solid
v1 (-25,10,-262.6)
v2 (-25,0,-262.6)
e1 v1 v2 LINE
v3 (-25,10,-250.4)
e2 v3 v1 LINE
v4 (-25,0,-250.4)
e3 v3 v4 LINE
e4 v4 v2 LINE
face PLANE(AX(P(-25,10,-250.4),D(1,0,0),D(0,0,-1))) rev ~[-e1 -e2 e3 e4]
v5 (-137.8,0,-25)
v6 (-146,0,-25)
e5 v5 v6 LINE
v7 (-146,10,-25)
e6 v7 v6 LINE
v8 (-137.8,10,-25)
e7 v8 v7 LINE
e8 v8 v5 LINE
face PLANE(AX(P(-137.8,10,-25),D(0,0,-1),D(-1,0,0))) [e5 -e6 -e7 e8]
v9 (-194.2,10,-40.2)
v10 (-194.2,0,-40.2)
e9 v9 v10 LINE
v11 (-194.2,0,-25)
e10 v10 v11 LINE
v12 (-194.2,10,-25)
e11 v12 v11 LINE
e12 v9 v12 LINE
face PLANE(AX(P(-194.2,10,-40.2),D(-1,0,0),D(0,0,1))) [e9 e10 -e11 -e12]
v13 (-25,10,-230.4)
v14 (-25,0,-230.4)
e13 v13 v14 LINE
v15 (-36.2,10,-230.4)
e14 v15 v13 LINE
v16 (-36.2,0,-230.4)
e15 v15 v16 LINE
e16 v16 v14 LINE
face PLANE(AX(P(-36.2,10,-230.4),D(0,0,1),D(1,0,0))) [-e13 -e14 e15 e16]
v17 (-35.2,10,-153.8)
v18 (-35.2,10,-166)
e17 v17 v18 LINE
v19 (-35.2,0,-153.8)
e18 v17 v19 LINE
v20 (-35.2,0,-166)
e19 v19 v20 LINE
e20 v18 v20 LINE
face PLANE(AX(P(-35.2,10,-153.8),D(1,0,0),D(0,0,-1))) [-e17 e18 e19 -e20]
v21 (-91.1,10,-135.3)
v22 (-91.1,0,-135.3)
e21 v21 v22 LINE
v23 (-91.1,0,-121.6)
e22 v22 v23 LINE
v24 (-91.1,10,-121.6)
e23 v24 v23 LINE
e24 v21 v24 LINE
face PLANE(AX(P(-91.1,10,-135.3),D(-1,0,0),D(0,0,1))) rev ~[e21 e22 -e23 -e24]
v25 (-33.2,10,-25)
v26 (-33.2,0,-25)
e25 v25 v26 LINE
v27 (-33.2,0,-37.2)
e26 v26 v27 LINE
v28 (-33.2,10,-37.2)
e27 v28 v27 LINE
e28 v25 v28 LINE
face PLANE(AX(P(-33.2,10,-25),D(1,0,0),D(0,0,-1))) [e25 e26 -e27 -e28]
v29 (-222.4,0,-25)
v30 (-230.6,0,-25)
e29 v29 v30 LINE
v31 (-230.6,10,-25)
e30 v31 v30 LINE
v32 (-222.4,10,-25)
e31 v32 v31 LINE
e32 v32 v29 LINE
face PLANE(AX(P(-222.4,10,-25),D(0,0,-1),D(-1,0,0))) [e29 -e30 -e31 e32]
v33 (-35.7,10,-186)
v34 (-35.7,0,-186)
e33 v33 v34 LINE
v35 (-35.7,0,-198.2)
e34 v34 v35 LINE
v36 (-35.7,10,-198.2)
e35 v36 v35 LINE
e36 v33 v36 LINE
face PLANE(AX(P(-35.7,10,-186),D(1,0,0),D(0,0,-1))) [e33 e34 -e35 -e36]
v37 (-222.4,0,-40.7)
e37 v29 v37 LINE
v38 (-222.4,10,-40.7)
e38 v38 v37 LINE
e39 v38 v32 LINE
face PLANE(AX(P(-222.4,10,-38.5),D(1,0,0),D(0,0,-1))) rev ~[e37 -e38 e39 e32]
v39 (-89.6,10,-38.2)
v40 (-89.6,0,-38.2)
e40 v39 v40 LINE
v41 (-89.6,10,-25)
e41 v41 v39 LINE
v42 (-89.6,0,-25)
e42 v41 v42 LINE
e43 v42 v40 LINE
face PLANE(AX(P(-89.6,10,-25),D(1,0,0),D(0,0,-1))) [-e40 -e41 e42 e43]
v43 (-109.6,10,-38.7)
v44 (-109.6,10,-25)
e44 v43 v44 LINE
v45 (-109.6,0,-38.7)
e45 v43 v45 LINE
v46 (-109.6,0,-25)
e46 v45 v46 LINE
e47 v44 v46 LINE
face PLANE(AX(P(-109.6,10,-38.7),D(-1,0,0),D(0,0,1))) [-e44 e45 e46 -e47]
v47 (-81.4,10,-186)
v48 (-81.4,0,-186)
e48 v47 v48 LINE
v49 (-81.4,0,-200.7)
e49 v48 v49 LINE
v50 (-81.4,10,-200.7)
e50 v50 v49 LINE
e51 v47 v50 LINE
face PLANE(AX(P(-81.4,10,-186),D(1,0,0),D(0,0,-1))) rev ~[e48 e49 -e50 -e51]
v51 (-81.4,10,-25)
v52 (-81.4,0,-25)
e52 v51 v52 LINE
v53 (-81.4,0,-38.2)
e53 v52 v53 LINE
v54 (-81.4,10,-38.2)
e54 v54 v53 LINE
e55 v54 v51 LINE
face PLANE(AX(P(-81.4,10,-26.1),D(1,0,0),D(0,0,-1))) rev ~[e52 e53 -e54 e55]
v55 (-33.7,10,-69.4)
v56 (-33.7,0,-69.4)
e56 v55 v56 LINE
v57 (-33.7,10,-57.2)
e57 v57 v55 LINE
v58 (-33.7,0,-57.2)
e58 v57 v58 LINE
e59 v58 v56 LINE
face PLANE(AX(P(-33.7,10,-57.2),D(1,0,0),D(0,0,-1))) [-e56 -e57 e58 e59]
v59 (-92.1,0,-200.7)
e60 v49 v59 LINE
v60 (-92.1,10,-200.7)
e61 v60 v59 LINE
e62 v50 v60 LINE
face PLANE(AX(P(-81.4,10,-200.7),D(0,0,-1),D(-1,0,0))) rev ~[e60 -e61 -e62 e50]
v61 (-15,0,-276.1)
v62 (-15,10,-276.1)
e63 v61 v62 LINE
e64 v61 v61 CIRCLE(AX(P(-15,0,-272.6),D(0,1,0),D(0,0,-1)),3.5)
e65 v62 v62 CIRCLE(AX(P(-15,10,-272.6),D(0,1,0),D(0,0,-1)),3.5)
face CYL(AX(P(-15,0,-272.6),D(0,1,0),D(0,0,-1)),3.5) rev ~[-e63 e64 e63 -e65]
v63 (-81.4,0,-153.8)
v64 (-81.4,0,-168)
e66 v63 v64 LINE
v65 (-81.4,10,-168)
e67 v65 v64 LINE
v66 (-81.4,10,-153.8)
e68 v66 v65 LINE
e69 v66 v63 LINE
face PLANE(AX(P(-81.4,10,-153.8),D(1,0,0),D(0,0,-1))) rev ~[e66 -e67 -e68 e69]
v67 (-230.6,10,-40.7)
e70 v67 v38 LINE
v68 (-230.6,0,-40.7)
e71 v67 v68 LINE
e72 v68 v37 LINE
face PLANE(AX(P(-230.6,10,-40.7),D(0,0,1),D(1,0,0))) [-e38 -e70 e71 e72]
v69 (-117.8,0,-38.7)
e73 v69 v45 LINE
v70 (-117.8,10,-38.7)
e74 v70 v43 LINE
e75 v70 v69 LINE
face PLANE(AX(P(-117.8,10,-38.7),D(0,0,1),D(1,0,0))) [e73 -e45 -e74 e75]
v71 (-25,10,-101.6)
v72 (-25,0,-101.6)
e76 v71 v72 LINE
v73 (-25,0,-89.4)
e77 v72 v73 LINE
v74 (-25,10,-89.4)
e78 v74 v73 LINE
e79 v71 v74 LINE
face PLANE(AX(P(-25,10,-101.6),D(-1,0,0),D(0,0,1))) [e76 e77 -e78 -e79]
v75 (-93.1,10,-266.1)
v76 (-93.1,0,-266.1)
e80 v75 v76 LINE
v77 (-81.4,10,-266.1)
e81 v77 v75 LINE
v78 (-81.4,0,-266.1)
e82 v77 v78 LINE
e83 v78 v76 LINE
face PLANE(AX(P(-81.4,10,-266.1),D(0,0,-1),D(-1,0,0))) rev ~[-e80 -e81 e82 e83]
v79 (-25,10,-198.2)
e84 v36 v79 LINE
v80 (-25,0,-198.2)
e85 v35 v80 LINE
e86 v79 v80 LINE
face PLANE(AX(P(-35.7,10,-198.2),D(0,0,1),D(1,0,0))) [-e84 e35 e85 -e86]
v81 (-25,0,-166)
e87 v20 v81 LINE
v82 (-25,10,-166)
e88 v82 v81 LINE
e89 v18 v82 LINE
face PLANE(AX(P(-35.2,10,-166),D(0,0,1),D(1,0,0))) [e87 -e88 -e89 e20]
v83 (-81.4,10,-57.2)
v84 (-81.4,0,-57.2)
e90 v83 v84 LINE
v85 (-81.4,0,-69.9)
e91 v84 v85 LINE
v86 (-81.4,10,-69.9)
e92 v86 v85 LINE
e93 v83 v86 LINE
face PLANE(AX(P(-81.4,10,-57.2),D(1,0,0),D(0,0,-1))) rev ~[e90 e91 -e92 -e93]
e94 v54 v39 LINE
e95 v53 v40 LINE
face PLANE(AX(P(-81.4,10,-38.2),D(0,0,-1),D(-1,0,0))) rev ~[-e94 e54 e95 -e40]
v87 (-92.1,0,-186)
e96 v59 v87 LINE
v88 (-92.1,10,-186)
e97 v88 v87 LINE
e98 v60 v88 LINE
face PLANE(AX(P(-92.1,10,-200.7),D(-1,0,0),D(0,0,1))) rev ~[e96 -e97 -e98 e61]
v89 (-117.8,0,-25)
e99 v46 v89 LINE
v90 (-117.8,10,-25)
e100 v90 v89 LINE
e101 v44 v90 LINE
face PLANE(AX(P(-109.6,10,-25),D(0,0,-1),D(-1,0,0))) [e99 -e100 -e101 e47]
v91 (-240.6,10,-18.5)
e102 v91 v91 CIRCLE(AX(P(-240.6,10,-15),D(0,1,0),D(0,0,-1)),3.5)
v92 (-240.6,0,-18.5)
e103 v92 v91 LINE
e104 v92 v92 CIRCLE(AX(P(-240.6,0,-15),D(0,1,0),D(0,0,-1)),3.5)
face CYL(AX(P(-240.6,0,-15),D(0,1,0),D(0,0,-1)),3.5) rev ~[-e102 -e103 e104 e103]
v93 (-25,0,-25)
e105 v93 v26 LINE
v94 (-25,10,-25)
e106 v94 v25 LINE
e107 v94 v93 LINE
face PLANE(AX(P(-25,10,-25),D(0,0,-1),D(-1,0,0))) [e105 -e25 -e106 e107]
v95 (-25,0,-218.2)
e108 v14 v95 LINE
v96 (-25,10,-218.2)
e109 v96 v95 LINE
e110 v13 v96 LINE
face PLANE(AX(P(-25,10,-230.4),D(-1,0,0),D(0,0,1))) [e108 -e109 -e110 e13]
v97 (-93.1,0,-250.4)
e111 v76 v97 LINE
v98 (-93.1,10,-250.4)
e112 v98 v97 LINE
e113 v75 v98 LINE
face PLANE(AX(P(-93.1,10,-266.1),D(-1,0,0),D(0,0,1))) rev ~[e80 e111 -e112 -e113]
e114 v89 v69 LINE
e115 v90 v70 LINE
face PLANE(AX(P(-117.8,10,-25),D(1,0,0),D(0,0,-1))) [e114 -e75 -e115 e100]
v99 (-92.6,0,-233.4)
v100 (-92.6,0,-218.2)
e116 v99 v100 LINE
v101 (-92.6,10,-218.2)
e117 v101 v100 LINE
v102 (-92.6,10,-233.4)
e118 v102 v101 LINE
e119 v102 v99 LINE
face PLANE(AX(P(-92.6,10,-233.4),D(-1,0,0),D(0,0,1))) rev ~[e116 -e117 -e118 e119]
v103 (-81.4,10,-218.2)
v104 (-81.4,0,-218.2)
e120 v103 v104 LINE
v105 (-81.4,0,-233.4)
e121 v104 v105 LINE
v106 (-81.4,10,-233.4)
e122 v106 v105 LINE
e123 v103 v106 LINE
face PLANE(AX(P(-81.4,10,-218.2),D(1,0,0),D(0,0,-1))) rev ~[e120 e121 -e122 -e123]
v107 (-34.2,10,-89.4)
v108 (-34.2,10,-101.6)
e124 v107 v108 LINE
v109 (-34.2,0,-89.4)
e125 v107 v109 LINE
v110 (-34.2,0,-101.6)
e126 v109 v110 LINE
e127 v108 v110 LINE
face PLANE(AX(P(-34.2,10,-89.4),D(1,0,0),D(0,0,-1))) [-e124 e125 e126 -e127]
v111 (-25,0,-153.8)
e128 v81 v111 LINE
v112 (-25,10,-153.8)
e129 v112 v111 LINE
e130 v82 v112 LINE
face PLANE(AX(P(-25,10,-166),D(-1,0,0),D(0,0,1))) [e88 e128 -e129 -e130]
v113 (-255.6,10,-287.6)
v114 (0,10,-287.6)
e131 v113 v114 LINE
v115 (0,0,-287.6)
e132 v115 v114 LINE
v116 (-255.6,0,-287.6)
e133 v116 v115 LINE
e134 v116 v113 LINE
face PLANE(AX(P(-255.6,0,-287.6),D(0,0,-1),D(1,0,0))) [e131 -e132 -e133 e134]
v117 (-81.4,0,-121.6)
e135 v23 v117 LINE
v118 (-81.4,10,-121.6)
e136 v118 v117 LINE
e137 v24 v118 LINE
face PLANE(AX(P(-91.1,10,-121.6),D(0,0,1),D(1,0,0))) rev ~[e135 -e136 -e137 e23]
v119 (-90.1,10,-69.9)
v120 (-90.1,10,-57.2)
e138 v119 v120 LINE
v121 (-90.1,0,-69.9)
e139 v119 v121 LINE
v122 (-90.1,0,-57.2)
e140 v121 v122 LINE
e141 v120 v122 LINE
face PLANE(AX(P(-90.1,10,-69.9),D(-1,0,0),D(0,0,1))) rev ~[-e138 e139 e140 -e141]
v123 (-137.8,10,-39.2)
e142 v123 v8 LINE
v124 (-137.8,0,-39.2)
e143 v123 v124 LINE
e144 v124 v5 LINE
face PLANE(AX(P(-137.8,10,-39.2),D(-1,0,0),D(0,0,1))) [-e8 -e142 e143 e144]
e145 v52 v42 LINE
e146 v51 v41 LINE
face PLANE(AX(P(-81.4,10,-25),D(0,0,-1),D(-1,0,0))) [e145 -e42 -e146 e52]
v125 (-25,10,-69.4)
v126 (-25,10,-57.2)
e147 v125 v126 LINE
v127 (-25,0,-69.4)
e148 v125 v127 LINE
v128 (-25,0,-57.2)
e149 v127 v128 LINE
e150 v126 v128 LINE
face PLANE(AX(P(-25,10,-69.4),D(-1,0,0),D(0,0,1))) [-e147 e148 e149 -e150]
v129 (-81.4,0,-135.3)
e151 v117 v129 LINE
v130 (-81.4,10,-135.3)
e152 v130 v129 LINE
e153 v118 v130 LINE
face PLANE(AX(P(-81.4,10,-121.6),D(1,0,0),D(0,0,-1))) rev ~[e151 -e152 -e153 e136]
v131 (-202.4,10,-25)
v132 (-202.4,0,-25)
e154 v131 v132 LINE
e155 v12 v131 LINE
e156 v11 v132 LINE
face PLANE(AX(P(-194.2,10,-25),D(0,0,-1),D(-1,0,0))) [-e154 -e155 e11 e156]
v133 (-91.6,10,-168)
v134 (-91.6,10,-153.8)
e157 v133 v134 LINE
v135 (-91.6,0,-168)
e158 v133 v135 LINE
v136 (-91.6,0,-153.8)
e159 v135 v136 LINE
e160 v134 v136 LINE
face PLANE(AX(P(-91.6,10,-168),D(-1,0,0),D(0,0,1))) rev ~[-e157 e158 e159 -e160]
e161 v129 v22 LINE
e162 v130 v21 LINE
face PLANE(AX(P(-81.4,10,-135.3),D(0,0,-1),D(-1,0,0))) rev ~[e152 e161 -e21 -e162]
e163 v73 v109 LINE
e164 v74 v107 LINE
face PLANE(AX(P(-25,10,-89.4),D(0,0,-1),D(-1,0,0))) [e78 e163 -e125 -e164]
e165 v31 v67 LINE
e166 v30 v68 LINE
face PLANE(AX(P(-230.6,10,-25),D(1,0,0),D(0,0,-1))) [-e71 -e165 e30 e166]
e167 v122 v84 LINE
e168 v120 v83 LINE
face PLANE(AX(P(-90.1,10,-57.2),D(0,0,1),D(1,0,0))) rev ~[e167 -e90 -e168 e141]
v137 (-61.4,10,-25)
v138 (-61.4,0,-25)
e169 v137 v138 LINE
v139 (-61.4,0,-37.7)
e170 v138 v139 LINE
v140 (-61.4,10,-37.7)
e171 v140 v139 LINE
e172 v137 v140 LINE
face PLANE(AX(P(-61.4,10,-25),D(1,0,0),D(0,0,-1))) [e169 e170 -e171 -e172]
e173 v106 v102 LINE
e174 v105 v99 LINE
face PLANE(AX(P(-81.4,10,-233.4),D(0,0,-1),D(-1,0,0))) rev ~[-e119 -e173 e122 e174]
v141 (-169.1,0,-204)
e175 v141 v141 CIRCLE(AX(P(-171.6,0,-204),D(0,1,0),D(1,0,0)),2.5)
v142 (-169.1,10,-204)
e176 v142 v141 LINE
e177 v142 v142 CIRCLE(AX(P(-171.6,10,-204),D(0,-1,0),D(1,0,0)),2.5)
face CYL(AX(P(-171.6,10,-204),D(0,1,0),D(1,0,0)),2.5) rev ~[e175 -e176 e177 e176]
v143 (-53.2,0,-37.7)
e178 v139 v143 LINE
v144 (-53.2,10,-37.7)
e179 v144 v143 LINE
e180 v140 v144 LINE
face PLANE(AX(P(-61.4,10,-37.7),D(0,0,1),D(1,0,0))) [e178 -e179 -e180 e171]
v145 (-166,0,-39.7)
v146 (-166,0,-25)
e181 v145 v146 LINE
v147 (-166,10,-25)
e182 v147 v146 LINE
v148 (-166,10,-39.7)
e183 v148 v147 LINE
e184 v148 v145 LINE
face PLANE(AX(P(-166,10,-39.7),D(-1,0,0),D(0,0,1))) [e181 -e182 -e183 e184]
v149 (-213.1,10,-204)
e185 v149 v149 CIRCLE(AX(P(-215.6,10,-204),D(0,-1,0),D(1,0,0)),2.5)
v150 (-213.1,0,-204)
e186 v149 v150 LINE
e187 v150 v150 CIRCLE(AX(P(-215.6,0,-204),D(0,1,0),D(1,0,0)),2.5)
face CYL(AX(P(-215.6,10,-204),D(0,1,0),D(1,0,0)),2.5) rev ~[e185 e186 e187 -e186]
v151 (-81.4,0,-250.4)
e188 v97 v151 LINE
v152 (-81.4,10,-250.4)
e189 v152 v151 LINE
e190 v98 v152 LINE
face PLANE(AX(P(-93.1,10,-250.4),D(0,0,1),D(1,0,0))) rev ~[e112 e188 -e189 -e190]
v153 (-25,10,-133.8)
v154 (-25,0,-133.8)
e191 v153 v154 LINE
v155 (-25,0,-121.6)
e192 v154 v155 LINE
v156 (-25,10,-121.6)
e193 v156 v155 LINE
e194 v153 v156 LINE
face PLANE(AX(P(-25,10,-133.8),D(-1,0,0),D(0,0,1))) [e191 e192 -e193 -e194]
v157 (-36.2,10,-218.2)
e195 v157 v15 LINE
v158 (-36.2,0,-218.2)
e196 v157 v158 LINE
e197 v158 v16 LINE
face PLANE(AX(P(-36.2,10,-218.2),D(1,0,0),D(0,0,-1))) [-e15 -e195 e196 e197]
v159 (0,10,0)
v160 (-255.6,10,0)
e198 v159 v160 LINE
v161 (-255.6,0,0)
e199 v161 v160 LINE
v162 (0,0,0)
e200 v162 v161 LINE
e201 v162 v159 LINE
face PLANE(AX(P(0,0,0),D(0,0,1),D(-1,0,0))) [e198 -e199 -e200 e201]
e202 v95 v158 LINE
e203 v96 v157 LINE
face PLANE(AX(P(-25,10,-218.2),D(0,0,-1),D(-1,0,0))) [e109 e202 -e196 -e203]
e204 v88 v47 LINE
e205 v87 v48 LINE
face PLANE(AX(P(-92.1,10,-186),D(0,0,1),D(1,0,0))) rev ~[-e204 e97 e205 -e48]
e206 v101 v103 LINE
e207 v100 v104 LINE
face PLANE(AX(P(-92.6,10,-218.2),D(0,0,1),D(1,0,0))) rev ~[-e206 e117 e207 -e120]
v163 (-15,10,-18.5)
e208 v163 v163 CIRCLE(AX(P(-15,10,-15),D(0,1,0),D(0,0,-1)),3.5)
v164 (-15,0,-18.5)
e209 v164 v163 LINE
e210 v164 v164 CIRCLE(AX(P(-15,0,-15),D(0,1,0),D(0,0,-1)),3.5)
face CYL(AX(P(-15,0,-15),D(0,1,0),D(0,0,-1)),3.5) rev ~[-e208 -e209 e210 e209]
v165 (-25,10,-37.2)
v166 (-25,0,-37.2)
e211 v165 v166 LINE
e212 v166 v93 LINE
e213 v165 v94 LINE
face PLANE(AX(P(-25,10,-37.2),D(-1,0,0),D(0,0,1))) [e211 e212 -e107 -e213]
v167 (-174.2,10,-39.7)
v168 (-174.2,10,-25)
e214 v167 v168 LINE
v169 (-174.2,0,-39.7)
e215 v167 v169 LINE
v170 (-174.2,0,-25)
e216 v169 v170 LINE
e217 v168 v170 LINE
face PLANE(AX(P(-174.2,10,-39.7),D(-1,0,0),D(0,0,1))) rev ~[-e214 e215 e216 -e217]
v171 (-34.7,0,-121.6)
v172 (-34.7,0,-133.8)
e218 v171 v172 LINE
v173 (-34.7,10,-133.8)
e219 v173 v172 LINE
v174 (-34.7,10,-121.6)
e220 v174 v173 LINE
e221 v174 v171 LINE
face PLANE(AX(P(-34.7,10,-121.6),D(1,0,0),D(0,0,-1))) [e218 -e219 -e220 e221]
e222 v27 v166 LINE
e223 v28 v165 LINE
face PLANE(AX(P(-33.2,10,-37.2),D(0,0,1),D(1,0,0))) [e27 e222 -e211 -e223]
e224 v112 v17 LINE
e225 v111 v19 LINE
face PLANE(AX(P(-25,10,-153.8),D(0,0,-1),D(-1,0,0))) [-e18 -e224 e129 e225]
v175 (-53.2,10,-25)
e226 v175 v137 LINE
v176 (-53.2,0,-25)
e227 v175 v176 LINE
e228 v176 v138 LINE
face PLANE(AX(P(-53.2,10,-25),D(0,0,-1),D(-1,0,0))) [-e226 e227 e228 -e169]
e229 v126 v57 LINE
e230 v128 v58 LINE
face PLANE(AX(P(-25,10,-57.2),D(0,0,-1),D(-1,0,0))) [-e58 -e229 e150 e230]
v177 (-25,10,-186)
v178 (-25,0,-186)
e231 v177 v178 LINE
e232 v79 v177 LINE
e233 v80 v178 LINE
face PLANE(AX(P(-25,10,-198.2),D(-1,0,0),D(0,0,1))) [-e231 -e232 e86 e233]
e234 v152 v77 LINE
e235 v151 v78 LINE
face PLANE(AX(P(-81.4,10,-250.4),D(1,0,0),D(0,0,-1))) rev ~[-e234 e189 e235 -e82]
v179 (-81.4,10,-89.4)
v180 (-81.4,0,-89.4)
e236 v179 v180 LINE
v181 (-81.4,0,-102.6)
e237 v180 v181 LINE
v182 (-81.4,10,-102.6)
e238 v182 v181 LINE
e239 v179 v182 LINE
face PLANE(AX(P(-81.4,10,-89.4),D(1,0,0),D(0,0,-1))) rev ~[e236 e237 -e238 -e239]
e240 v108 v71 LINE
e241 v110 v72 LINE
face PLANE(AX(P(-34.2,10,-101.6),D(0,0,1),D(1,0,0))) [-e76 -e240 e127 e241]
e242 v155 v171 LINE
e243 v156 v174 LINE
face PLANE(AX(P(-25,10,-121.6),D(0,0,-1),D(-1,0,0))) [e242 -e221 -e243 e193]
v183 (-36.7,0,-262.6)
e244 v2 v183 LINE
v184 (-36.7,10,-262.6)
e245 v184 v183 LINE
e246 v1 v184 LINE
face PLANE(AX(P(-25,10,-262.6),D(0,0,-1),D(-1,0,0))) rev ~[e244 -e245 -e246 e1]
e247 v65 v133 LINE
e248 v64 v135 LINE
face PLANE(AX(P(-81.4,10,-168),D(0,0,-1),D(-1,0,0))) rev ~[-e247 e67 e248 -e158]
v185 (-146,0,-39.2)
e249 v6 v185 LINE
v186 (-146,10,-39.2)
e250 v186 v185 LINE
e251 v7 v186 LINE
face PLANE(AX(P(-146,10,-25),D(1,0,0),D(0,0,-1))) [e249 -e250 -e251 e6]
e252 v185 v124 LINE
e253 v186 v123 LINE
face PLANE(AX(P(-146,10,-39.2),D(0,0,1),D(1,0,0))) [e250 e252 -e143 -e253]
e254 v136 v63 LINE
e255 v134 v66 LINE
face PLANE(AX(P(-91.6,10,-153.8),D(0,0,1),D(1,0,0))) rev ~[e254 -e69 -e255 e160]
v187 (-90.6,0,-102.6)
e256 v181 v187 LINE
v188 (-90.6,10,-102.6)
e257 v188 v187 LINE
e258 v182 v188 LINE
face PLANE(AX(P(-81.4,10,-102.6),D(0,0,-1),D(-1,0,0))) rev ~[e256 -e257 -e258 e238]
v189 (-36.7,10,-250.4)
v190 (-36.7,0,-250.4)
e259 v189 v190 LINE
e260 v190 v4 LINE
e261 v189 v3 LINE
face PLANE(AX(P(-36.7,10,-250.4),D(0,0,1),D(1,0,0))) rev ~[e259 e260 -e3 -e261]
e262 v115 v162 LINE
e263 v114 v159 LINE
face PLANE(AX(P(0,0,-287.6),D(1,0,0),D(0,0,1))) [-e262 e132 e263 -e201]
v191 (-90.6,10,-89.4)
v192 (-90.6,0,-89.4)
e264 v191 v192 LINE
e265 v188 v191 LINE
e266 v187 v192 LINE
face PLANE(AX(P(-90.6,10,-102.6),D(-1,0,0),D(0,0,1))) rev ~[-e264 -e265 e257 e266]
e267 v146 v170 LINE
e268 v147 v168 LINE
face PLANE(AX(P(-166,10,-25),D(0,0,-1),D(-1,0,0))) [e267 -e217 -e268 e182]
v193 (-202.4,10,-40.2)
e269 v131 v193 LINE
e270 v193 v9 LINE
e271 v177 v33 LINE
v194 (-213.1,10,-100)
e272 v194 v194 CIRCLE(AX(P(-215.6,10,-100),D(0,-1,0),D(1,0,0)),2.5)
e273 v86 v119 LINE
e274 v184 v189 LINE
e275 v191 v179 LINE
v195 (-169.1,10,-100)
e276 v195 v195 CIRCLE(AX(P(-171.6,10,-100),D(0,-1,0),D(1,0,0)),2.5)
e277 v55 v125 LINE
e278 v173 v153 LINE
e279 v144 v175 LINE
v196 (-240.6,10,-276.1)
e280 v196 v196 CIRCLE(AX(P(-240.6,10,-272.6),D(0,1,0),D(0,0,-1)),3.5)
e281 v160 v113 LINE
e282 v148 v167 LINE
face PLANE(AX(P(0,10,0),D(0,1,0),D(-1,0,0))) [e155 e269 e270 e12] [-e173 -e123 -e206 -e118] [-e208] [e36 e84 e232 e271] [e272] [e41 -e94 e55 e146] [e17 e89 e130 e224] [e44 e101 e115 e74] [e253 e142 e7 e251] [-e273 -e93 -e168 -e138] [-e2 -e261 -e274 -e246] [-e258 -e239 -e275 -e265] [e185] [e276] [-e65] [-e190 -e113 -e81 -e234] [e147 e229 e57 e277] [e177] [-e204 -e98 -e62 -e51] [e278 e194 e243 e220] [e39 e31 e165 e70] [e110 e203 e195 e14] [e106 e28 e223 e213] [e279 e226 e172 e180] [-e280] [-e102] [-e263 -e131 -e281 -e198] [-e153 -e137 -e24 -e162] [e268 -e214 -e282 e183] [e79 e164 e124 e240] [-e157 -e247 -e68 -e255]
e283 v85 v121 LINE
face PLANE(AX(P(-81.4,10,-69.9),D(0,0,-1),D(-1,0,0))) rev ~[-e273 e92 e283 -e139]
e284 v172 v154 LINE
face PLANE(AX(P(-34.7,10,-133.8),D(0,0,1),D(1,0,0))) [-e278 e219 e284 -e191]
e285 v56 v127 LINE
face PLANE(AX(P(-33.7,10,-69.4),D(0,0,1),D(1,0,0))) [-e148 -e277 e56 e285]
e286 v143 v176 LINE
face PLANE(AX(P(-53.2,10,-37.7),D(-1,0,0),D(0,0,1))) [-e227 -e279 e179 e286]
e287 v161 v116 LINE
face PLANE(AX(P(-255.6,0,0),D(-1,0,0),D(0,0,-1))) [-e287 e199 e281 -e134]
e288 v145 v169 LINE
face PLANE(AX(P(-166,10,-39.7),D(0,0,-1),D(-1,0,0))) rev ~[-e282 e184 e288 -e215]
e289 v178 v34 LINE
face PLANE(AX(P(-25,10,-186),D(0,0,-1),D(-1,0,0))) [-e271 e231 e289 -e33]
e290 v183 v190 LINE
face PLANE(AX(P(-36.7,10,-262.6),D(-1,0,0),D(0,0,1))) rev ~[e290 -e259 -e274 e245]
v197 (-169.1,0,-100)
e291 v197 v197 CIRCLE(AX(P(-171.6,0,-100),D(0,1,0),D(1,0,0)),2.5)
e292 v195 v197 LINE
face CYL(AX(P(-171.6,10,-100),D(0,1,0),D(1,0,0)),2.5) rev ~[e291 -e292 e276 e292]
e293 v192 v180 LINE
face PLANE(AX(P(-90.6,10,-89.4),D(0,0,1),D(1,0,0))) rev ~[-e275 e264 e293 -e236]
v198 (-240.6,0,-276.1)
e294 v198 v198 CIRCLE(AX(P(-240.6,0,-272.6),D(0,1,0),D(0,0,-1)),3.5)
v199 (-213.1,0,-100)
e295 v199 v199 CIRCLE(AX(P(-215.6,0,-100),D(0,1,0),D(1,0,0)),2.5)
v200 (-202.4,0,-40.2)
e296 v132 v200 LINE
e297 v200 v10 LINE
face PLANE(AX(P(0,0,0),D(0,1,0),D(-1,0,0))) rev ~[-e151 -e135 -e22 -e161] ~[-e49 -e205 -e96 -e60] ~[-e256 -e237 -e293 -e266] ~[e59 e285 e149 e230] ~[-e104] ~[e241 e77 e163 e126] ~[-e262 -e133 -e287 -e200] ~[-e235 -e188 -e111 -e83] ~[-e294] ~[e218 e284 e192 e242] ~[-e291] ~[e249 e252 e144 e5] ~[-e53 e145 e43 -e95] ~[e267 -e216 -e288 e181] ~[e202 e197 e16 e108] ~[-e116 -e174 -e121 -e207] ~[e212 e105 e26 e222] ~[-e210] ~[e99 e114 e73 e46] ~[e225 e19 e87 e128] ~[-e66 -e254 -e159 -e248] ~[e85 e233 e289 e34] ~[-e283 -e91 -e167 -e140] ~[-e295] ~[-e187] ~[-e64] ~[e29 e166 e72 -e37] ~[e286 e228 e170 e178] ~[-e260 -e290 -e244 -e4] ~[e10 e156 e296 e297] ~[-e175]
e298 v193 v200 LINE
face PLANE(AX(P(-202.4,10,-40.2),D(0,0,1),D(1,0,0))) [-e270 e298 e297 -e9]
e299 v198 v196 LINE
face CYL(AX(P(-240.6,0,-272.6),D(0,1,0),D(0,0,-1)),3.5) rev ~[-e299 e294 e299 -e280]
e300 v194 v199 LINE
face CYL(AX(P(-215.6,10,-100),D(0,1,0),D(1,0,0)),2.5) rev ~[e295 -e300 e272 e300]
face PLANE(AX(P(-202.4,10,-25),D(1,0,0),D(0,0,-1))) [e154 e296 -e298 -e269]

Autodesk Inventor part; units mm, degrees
ref_plane "YZ Plane" through (0, 0, 0) normal (1, 0, 0) x (0, 1, 0)
ref_plane "XZ Plane" through (0, 0, 0) normal (0, 1, 0) x (-1, 0, 0)
ref_plane "XY Plane" through (0, 0, 0) normal (0, 0, 1) x (1, 0, 0)
sketch "Skizze1" plane through (0, 0, 0) normal (0, 1, 0) x (-1, 0, 0)
  line L0 (0, 0) -> (255.6, 0)
  line L1 (255.6, 0) -> (255.6, -287.6)
  line L2 (255.6, -287.6) -> (0, -287.6)
  line L3 (0, -287.6) -> (0, 0)
  dimension "d0" = 287.6
  dimension "d1" = 255.6
extrude "Extrusion1" add sketch "Skizze1" along normal blind 10
sketch "Skizze4" plane through (0, 10, 0) normal (0, 1, 0) x (1, 0, 0)
  line L0 (-25, 25) -> (-33.2, 25)
  line L1 (-33.2, 25) -> (-33.2, 37.2)
  line L2 (-33.2, 37.2) -> (-25, 37.2)
  line L3 (-25, 37.2) -> (-25, 25)
  line L4 (-109.6, 25) -> (-117.8, 25)
  line L5 (-117.8, 25) -> (-117.8, 38.7)
  line L6 (-117.8, 38.7) -> (-109.6, 38.7)
  line L7 (-109.6, 38.7) -> (-109.6, 25)
  line L8 (-137.8, 25) -> (-146, 25)
  line L9 (-146, 25) -> (-146, 39.2)
  line L10 (-146, 39.2) -> (-137.8, 39.2)
  line L11 (-137.8, 39.2) -> (-137.8, 25)
  line L12 (-166, 39.7) -> (-166, 25)
  line L13 (-222.4, 25) -> (-230.6, 25)
  line L14 (-230.6, 25) -> (-230.6, 40.7)
  line L15 (-25, 57.2) -> (-33.7, 57.2)
  line L16 (-33.7, 57.2) -> (-33.7, 69.4)
  line L17 (-33.7, 69.4) -> (-25, 69.4)
  line L18 (-25, 69.4) -> (-25, 57.2)
  line L19 (-25, 89.4) -> (-34.2, 89.4)
  line L20 (-34.2, 89.4) -> (-34.2, 101.6)
  line L21 (-34.2, 101.6) -> (-25, 101.6)
  line L22 (-25, 101.6) -> (-25, 89.4)
  line L23 (-25, 121.6) -> (-34.7, 121.6)
  line L24 (-34.7, 121.6) -> (-34.7, 133.8)
  line L25 (-34.7, 133.8) -> (-25, 133.8)
  line L26 (-25, 133.8) -> (-25, 121.6)
  line L27 (-25, 153.8) -> (-35.2, 153.8)
  line L28 (-35.2, 153.8) -> (-35.2, 166)
  line L29 (-35.2, 166) -> (-25, 166)
  line L30 (-25, 166) -> (-25, 153.8)
  line L31 (-25, 186) -> (-35.7, 186)
  line L32 (-35.7, 186) -> (-35.7, 198.2)
  line L33 (-35.7, 198.2) -> (-25, 198.2)
  line L34 (-25, 198.2) -> (-25, 186)
  line L35 (-25, 230.4) -> (-25, 218.2)
  line L36 (-222.4, 25) -> (-222.4, 38.5)
  line L37 (-222.4, 38.5) -> (-222.4, 40.7)
  line L38 (-230.6, 40.7) -> (-222.4, 40.7)
  line L39 (-25, 218.2) -> (-36.2, 218.2)
  line L40 (-36.2, 218.2) -> (-36.2, 230.4)
  line L41 (-36.2, 230.4) -> (-25, 230.4)
  line L42 (-25, 250.4) -> (-25, 262.6)
  line L43 (-25, 262.6) -> (-36.7, 262.6)
  line L44 (-36.7, 262.6) -> (-36.7, 250.4)
  line L45 (-36.7, 250.4) -> (-25, 250.4)
  line L46 (-53.2, 25) -> (-61.4, 25)
  line L47 (-61.4, 25) -> (-61.4, 37.7)
  line L48 (-61.4, 37.7) -> (-53.2, 37.7)
  line L49 (-53.2, 37.7) -> (-53.2, 25)
  line L50 (-89.6, 25) -> (-89.6, 37.7)
  line L51 (-89.6, 37.7) -> (-89.6, 38.2)
  line L52 (0, 0) -> (0, 287.6) projected
  line L53 (-255.6, 0) -> (0, 0) projected
  line L54 (-81.4, 69.9) -> (-90.1, 69.9)
  line L55 (-90.1, 69.9) -> (-90.1, 57.2)
  line L56 (-90.1, 57.2) -> (-81.4, 57.2)
  line L57 (-81.4, 102.6) -> (-90.6, 102.6)
  line L58 (-90.6, 102.6) -> (-90.6, 89.4)
  line L59 (-90.6, 89.4) -> (-81.4, 89.4)
  line L60 (-81.4, 121.6) -> (-81.4, 135.3)
  line L61 (-81.4, 135.3) -> (-91.1, 135.3)
  line L62 (-91.1, 135.3) -> (-91.1, 121.6)
  line L63 (-91.1, 121.6) -> (-81.4, 121.6)
  line L64 (-81.4, 153.8) -> (-81.4, 168)
  line L65 (-81.4, 168) -> (-91.6, 168)
  line L66 (-91.6, 168) -> (-91.6, 153.8)
  line L67 (-91.6, 153.8) -> (-81.4, 153.8)
  line L68 (-81.4, 186) -> (-81.4, 200.7)
  line L69 (-81.4, 200.7) -> (-92.1, 200.7)
  line L70 (-92.1, 200.7) -> (-92.1, 186)
  line L71 (-92.1, 186) -> (-81.4, 186)
  line L72 (-81.4, 218.2) -> (-81.4, 233.4)
  line L73 (-81.4, 233.4) -> (-92.6, 233.4)
  line L74 (-92.6, 233.4) -> (-92.6, 218.2)
  line L75 (-92.6, 218.2) -> (-81.4, 218.2)
  line L76 (-81.4, 250.4) -> (-81.4, 266.1)
  line L77 (-81.4, 266.1) -> (-93.1, 266.1)
  line L78 (-93.1, 266.1) -> (-93.1, 250.4)
  line L79 (-93.1, 250.4) -> (-81.4, 250.4)
  line L80 (-194.2, 25) -> (-202.4, 25)
  line L81 (-202.4, 25) -> (-202.4, 40.2)
  line L82 (-202.4, 40.2) -> (-194.2, 40.2)
  line L83 (-194.2, 40.2) -> (-194.2, 25)
  line L84 (-166, 25) -> (-174.2, 25)
  line L85 (-166, 39.7) -> (-174.2, 39.7)
  line L86 (-174.2, 39.7) -> (-174.2, 25)
  line L87 (-166, 25) -> (-174.2, 25)
  line L88 (-81.4, 25) -> (-89.6, 25)
  line L89 (-81.4, 25) -> (-81.4, 38.2)
  line L90 (-81.4, 38.2) -> (-89.6, 38.2)
  line L91 (-202.4, 25) -> (-194.2, 25)
  line L92 (-174.2, 25) -> (-166, 25)
  line L93 (-146, 25) -> (-137.8, 25)
  line L94 (-137.8, 25) -> (-146, 25)
  line L95 (-109.6, 25) -> (-117.8, 25)
  line L96 (-81.4, 25) -> (-89.6, 25)
  line L97 (-25, 25) -> (-33.2, 25)
  line L98 (-53.2, 25) -> (-61.4, 25)
  line L99 (-166, 25) -> (-174.2, 25)
  line L100 (-194.2, 25) -> (-202.4, 25)
  line L101 (-222.4, 25) -> (-230.6, 25)
  line L102 (-25, 57.2) -> (-33.7, 57.2)
  line L103 (-81.4, 57.2) -> (-90.1, 57.2)
  line L104 (-25, 89.4) -> (-34.2, 89.4)
  line L105 (-81.4, 89.4) -> (-90.6, 89.4)
  line L106 (-25, 121.6) -> (-34.7, 121.6)
  line L107 (-81.4, 121.6) -> (-91.1, 121.6)
  line L108 (-25, 153.8) -> (-35.2, 153.8)
  line L109 (-81.4, 153.8) -> (-91.6, 153.8)
  line L110 (-25, 186) -> (-35.7, 186)
  line L111 (-81.4, 186) -> (-92.1, 186)
  line L112 (-25, 218.2) -> (-36.2, 218.2)
  line L113 (-81.4, 218.2) -> (-92.6, 218.2)
  line L114 (-25, 250.4) -> (-36.7, 250.4)
  line L115 (-81.4, 250.4) -> (-93.1, 250.4)
  line L116 (-81.4, 26.1) -> (-81.4, 294.0046)
  line L117 (-81.4, 69.9) -> (-81.4, 47.2)
  line L118 (-90.1, 57.2) -> (-90.1, 69.9)
  line L119 (-81.4, 89.4) -> (-81.4, 102.6)
  line L120 (-90.6, 102.6) -> (-90.6, 89.4)
  line L121 (-25, 25) -> (-25, 285.2671)
  line L122 (-25, 25) -> (-258.6914, 25)
  line L123 (0, 287.6) -> (-255.6, 287.6) projected
  line L124 (-255.6, 287.6) -> (-255.6, 0) projected
  point P0 (-29.6, 89.4)
  point P1 (-29.35, 69.4)
  point P2 (-29.85, 121.6)
  point P3 (-29.6, 101.6)
  point P4 (-30.1, 153.8)
  point P5 (-29.85, 133.8)
  point P6 (-30.35, 186)
  point P7 (-30.1, 166)
  point P8 (-30.6, 218.2)
  point P9 (-30.35, 198.2)
  point P10 (-30.85, 250.4)
  point P11 (-30.6, 230.4)
  point P12 (-81.4, 25)
  point P13 (-53.2, 31.35)
  point P14 (-61.4, 31.35)
  point P15 (-109.6, 31.85)
  point P16 (-137.8, 32.1)
  point P17 (-117.8, 31.85)
  point P18 (-166, 27.1)
  point P19 (-146, 32.1)
  point P20 (-169.2, 27.6)
  point P21 (-222.4, 31.75)
  point P22 (-25, 31.1)
  point P23 (-29.1, 25)
  point P24 (-29.35, 57.2)
  point P25 (-85.75, 57.2)
  point P26 (-86.25, 121.6)
  point P27 (-141.9, 25)
  point P28 (-86.5, 153.8)
  point P29 (-86.75, 186)
  point P30 (-87, 218.2)
  point P31 (-81.4, 225.8)
  point P32 (-81.4, 258.25)
  point P33 (-226.5, 40.7)
  point P34 (-86, 102.6)
  point P35 (-86.25, 135.3)
  point P36 (-86.75, 200.7)
  point P37 (-87.25, 250.4)
  point P38 (-87, 233.4)
  point P39 (-86, 89.4)
  point P40 (-85.75, 69.9)
  point P41 (-86.5, 168)
  point P42 (-33.7, 63.3)
  point P43 (-80, 91)
  point P44 (-34.2, 95.5)
  point P45 (-81.4, 128.45)
  point P46 (-34.7, 127.7)
  point P47 (-81.4, 160.9)
  point P48 (-35.2, 159.9)
  point P49 (-81.4, 193.35)
  point P50 (-35.7, 192.1)
  point P51 (-36.2, 224.3)
  point P52 (-36.7, 256.5)
  point P53 (-81.4, 58.55)
  point P54 (-76, 52.7)
  point P55 (-76, 65.4)
  point P56 (-25, 256.5)
  point P57 (-57.3, 25)
  point P58 (-29.6, 89.4)
  point P59 (-86, 89.4)
  point P60 (-87, 218.2)
  point P61 (-30.6, 218.2)
  point P62 (-87.25, 250.4)
  point P63 (-30.85, 250.4)
  point P64 (-85.75, 57.2)
  point P65 (-85.5, 38.2)
  point P66 (-29.35, 57.2)
  point P67 (-30.35, 186)
  point P68 (-87.25, 266.1)
  point P69 (-30.85, 262.6)
  point P70 (-230.6, 32.85)
  point P71 (-81.4, 31.6)
  point P72 (-226.5, 25)
  dimension "d10" = 8.2
  dimension "d11" = 12.2
  dimension "d17" = 12.2
  dimension "d18" = 9.2
  dimension "d19" = 12.2
  dimension "d20" = 9.7
  dimension "d21" = 12.2
  dimension "d22" = 10.2
  dimension "d23" = 12.2
  dimension "d24" = 10.7
  dimension "d25" = 12.2
  dimension "d27" = 12.2
  dimension "d29" = 13.7
  dimension "d30" = 14.2
  dimension "d32" = 14.7
  dimension "d53" = 11.2
  dimension "d60" = 12.2
  dimension "d61" = 11.7
  dimension "d64" = 12.7
  dimension "d65" = 8.2
  dimension "d79" = 12.7
  dimension "d80" = 13.2
  dimension "d81" = 9.2
  dimension "d82" = 13.7
  dimension "d83" = 9.7
  dimension "d84" = 14.2
  dimension "d85" = 10.2
  dimension "d86" = 14.7
  dimension "d87" = 10.7
  dimension "d88" = 15.2
  dimension "d89" = 11.2
  dimension "d90" = 15.7
  dimension "d91" = 11.7
  dimension "d149" = 15.7
  dimension "d152" = 8.2
  dimension "d153" = 8.2
  dimension "d155" = 20
  dimension "d156" = 8.2
  dimension "d159" = 20
  dimension "d160" = 20
  dimension "d162" = 20
  dimension "d163" = 20
  dimension "d164" = 20
  dimension "d165" = 20
  dimension "d166" = 20
  dimension "d167" = 20
  dimension "d168" = 20
  dimension "d169" = 20
  dimension "d187" = 19
  dimension "d188" = 18.5
  dimension "d189" = 18
  dimension "d191" = 17.5
  dimension "d197" = 8.2
  dimension "d198" = 15.2
  dimension "d199" = 20
  dimension "d200" = 8.2
  dimension "d201" = 20
  dimension "d203" = 8.2
  dimension "d205" = 13.2
  dimension "d207" = 8.7
  dimension "d209" = 45.8
  dimension "d219" = 8.7
  dimension "d239" = 0
  dimension "d240" = 0
extrude "Extrusion4" cut sketch "Skizze4" against normal blind 30 contours L88 L50 L51 L90 L89 | L46 L47 L48 L49 | L45 L44 L43 L42 | L39 L40 L41 L35 | L31 L32 L33 L34 | L27 L28 L29 L30 | L23 L24 L25 L26 | L19 L20 L21 L22 | L15 L16 L17 L18 | L0 L1 L2 L3 | L4 L5 L6 L7 | L8 L9 L10 L11 | L56 L55 L54 L116 | L84 L86 L85 L12 | L59 L58 L57 L116 | L80 L81 L82 L83 | L63 L62 L61 L60 | L13 L14 L38 L37 L36 | L67 L66 L65 L64 | L71 L70 L69 L68 | L75 L74 L73 L72 | L76 L79 L78 L77
sketch "Skizze5" plane through (0, 10, 0) normal (0, 1, 0) x (1, 0, 0)
  circle A0 centre (-215.6, 100) radius 2.5
  circle A1 centre (-215.6, 204) radius 2.5
  line L0 (-255.6, 0) -> (0, 0) projected
  line L1 (-255.6, 287.6) -> (-255.6, 0) projected
  circle A2 centre (-171.6, 100) radius 2.5
  circle A3 centre (-171.6, 204) radius 2.5
  line L2 (-171.6, 100) -> (-215.6, 100)
  line L3 (-215.6, 100) -> (-215.6, 204)
  line L4 (-215.6, 204) -> (-171.6, 204)
  line L5 (-171.6, 204) -> (-171.6, 100)
  dimension "d110" = 5
  dimension "d116" = 5
  dimension "d119" = 100
  dimension "d224" = 5
  dimension "d225" = 5
  dimension "d230" = 104
  dimension "d231" = 44
  dimension "d233" = 40
  dimension "d234" = 0
extrude "Extrusion5" cut sketch "Skizze5" against normal blind 30 contours L2 L3 A0 | A0 L3 L2 | L2 L5 A2 | A2 L5 L2 | L3 L4 A1 | A1 L4 L3 | L5 L4 A3 | A3 L4 L5
sketch "Skizze6" plane through (0, 0, 0) normal (0, -1, 0) x (1, 0, 0)
  line L0 (-255.6, -287.6) -> (-255.6, 0) projected
  line L1 (-255.6, 0) -> (0, 0) projected
  line L2 (0, 0) -> (0, -287.6) projected
  line L3 (0, -287.6) -> (-255.6, -287.6) projected
  point P0 (-240.6, -15)
  point P1 (-240.6, -272.6)
  point P2 (-15, -272.6)
  point P3 (-15, -15)
  dimension "d265" = 15
  dimension "d266" = 15
  dimension "d267" = 15
  dimension "d268" = 15
  dimension "d269" = 15
  dimension "d270" = 15
  dimension "d271" = 15
  dimension "d272" = 15
hole "Bohrung1" at (-240.6, 0, -15) at (-240.6, 0, -272.6) at (-15, 0, -272.6) at (-15, 0, -15) direction (0, 1, 0) diameter 7 depth 10
properties part number "Board_Maria_3D-Druck"
